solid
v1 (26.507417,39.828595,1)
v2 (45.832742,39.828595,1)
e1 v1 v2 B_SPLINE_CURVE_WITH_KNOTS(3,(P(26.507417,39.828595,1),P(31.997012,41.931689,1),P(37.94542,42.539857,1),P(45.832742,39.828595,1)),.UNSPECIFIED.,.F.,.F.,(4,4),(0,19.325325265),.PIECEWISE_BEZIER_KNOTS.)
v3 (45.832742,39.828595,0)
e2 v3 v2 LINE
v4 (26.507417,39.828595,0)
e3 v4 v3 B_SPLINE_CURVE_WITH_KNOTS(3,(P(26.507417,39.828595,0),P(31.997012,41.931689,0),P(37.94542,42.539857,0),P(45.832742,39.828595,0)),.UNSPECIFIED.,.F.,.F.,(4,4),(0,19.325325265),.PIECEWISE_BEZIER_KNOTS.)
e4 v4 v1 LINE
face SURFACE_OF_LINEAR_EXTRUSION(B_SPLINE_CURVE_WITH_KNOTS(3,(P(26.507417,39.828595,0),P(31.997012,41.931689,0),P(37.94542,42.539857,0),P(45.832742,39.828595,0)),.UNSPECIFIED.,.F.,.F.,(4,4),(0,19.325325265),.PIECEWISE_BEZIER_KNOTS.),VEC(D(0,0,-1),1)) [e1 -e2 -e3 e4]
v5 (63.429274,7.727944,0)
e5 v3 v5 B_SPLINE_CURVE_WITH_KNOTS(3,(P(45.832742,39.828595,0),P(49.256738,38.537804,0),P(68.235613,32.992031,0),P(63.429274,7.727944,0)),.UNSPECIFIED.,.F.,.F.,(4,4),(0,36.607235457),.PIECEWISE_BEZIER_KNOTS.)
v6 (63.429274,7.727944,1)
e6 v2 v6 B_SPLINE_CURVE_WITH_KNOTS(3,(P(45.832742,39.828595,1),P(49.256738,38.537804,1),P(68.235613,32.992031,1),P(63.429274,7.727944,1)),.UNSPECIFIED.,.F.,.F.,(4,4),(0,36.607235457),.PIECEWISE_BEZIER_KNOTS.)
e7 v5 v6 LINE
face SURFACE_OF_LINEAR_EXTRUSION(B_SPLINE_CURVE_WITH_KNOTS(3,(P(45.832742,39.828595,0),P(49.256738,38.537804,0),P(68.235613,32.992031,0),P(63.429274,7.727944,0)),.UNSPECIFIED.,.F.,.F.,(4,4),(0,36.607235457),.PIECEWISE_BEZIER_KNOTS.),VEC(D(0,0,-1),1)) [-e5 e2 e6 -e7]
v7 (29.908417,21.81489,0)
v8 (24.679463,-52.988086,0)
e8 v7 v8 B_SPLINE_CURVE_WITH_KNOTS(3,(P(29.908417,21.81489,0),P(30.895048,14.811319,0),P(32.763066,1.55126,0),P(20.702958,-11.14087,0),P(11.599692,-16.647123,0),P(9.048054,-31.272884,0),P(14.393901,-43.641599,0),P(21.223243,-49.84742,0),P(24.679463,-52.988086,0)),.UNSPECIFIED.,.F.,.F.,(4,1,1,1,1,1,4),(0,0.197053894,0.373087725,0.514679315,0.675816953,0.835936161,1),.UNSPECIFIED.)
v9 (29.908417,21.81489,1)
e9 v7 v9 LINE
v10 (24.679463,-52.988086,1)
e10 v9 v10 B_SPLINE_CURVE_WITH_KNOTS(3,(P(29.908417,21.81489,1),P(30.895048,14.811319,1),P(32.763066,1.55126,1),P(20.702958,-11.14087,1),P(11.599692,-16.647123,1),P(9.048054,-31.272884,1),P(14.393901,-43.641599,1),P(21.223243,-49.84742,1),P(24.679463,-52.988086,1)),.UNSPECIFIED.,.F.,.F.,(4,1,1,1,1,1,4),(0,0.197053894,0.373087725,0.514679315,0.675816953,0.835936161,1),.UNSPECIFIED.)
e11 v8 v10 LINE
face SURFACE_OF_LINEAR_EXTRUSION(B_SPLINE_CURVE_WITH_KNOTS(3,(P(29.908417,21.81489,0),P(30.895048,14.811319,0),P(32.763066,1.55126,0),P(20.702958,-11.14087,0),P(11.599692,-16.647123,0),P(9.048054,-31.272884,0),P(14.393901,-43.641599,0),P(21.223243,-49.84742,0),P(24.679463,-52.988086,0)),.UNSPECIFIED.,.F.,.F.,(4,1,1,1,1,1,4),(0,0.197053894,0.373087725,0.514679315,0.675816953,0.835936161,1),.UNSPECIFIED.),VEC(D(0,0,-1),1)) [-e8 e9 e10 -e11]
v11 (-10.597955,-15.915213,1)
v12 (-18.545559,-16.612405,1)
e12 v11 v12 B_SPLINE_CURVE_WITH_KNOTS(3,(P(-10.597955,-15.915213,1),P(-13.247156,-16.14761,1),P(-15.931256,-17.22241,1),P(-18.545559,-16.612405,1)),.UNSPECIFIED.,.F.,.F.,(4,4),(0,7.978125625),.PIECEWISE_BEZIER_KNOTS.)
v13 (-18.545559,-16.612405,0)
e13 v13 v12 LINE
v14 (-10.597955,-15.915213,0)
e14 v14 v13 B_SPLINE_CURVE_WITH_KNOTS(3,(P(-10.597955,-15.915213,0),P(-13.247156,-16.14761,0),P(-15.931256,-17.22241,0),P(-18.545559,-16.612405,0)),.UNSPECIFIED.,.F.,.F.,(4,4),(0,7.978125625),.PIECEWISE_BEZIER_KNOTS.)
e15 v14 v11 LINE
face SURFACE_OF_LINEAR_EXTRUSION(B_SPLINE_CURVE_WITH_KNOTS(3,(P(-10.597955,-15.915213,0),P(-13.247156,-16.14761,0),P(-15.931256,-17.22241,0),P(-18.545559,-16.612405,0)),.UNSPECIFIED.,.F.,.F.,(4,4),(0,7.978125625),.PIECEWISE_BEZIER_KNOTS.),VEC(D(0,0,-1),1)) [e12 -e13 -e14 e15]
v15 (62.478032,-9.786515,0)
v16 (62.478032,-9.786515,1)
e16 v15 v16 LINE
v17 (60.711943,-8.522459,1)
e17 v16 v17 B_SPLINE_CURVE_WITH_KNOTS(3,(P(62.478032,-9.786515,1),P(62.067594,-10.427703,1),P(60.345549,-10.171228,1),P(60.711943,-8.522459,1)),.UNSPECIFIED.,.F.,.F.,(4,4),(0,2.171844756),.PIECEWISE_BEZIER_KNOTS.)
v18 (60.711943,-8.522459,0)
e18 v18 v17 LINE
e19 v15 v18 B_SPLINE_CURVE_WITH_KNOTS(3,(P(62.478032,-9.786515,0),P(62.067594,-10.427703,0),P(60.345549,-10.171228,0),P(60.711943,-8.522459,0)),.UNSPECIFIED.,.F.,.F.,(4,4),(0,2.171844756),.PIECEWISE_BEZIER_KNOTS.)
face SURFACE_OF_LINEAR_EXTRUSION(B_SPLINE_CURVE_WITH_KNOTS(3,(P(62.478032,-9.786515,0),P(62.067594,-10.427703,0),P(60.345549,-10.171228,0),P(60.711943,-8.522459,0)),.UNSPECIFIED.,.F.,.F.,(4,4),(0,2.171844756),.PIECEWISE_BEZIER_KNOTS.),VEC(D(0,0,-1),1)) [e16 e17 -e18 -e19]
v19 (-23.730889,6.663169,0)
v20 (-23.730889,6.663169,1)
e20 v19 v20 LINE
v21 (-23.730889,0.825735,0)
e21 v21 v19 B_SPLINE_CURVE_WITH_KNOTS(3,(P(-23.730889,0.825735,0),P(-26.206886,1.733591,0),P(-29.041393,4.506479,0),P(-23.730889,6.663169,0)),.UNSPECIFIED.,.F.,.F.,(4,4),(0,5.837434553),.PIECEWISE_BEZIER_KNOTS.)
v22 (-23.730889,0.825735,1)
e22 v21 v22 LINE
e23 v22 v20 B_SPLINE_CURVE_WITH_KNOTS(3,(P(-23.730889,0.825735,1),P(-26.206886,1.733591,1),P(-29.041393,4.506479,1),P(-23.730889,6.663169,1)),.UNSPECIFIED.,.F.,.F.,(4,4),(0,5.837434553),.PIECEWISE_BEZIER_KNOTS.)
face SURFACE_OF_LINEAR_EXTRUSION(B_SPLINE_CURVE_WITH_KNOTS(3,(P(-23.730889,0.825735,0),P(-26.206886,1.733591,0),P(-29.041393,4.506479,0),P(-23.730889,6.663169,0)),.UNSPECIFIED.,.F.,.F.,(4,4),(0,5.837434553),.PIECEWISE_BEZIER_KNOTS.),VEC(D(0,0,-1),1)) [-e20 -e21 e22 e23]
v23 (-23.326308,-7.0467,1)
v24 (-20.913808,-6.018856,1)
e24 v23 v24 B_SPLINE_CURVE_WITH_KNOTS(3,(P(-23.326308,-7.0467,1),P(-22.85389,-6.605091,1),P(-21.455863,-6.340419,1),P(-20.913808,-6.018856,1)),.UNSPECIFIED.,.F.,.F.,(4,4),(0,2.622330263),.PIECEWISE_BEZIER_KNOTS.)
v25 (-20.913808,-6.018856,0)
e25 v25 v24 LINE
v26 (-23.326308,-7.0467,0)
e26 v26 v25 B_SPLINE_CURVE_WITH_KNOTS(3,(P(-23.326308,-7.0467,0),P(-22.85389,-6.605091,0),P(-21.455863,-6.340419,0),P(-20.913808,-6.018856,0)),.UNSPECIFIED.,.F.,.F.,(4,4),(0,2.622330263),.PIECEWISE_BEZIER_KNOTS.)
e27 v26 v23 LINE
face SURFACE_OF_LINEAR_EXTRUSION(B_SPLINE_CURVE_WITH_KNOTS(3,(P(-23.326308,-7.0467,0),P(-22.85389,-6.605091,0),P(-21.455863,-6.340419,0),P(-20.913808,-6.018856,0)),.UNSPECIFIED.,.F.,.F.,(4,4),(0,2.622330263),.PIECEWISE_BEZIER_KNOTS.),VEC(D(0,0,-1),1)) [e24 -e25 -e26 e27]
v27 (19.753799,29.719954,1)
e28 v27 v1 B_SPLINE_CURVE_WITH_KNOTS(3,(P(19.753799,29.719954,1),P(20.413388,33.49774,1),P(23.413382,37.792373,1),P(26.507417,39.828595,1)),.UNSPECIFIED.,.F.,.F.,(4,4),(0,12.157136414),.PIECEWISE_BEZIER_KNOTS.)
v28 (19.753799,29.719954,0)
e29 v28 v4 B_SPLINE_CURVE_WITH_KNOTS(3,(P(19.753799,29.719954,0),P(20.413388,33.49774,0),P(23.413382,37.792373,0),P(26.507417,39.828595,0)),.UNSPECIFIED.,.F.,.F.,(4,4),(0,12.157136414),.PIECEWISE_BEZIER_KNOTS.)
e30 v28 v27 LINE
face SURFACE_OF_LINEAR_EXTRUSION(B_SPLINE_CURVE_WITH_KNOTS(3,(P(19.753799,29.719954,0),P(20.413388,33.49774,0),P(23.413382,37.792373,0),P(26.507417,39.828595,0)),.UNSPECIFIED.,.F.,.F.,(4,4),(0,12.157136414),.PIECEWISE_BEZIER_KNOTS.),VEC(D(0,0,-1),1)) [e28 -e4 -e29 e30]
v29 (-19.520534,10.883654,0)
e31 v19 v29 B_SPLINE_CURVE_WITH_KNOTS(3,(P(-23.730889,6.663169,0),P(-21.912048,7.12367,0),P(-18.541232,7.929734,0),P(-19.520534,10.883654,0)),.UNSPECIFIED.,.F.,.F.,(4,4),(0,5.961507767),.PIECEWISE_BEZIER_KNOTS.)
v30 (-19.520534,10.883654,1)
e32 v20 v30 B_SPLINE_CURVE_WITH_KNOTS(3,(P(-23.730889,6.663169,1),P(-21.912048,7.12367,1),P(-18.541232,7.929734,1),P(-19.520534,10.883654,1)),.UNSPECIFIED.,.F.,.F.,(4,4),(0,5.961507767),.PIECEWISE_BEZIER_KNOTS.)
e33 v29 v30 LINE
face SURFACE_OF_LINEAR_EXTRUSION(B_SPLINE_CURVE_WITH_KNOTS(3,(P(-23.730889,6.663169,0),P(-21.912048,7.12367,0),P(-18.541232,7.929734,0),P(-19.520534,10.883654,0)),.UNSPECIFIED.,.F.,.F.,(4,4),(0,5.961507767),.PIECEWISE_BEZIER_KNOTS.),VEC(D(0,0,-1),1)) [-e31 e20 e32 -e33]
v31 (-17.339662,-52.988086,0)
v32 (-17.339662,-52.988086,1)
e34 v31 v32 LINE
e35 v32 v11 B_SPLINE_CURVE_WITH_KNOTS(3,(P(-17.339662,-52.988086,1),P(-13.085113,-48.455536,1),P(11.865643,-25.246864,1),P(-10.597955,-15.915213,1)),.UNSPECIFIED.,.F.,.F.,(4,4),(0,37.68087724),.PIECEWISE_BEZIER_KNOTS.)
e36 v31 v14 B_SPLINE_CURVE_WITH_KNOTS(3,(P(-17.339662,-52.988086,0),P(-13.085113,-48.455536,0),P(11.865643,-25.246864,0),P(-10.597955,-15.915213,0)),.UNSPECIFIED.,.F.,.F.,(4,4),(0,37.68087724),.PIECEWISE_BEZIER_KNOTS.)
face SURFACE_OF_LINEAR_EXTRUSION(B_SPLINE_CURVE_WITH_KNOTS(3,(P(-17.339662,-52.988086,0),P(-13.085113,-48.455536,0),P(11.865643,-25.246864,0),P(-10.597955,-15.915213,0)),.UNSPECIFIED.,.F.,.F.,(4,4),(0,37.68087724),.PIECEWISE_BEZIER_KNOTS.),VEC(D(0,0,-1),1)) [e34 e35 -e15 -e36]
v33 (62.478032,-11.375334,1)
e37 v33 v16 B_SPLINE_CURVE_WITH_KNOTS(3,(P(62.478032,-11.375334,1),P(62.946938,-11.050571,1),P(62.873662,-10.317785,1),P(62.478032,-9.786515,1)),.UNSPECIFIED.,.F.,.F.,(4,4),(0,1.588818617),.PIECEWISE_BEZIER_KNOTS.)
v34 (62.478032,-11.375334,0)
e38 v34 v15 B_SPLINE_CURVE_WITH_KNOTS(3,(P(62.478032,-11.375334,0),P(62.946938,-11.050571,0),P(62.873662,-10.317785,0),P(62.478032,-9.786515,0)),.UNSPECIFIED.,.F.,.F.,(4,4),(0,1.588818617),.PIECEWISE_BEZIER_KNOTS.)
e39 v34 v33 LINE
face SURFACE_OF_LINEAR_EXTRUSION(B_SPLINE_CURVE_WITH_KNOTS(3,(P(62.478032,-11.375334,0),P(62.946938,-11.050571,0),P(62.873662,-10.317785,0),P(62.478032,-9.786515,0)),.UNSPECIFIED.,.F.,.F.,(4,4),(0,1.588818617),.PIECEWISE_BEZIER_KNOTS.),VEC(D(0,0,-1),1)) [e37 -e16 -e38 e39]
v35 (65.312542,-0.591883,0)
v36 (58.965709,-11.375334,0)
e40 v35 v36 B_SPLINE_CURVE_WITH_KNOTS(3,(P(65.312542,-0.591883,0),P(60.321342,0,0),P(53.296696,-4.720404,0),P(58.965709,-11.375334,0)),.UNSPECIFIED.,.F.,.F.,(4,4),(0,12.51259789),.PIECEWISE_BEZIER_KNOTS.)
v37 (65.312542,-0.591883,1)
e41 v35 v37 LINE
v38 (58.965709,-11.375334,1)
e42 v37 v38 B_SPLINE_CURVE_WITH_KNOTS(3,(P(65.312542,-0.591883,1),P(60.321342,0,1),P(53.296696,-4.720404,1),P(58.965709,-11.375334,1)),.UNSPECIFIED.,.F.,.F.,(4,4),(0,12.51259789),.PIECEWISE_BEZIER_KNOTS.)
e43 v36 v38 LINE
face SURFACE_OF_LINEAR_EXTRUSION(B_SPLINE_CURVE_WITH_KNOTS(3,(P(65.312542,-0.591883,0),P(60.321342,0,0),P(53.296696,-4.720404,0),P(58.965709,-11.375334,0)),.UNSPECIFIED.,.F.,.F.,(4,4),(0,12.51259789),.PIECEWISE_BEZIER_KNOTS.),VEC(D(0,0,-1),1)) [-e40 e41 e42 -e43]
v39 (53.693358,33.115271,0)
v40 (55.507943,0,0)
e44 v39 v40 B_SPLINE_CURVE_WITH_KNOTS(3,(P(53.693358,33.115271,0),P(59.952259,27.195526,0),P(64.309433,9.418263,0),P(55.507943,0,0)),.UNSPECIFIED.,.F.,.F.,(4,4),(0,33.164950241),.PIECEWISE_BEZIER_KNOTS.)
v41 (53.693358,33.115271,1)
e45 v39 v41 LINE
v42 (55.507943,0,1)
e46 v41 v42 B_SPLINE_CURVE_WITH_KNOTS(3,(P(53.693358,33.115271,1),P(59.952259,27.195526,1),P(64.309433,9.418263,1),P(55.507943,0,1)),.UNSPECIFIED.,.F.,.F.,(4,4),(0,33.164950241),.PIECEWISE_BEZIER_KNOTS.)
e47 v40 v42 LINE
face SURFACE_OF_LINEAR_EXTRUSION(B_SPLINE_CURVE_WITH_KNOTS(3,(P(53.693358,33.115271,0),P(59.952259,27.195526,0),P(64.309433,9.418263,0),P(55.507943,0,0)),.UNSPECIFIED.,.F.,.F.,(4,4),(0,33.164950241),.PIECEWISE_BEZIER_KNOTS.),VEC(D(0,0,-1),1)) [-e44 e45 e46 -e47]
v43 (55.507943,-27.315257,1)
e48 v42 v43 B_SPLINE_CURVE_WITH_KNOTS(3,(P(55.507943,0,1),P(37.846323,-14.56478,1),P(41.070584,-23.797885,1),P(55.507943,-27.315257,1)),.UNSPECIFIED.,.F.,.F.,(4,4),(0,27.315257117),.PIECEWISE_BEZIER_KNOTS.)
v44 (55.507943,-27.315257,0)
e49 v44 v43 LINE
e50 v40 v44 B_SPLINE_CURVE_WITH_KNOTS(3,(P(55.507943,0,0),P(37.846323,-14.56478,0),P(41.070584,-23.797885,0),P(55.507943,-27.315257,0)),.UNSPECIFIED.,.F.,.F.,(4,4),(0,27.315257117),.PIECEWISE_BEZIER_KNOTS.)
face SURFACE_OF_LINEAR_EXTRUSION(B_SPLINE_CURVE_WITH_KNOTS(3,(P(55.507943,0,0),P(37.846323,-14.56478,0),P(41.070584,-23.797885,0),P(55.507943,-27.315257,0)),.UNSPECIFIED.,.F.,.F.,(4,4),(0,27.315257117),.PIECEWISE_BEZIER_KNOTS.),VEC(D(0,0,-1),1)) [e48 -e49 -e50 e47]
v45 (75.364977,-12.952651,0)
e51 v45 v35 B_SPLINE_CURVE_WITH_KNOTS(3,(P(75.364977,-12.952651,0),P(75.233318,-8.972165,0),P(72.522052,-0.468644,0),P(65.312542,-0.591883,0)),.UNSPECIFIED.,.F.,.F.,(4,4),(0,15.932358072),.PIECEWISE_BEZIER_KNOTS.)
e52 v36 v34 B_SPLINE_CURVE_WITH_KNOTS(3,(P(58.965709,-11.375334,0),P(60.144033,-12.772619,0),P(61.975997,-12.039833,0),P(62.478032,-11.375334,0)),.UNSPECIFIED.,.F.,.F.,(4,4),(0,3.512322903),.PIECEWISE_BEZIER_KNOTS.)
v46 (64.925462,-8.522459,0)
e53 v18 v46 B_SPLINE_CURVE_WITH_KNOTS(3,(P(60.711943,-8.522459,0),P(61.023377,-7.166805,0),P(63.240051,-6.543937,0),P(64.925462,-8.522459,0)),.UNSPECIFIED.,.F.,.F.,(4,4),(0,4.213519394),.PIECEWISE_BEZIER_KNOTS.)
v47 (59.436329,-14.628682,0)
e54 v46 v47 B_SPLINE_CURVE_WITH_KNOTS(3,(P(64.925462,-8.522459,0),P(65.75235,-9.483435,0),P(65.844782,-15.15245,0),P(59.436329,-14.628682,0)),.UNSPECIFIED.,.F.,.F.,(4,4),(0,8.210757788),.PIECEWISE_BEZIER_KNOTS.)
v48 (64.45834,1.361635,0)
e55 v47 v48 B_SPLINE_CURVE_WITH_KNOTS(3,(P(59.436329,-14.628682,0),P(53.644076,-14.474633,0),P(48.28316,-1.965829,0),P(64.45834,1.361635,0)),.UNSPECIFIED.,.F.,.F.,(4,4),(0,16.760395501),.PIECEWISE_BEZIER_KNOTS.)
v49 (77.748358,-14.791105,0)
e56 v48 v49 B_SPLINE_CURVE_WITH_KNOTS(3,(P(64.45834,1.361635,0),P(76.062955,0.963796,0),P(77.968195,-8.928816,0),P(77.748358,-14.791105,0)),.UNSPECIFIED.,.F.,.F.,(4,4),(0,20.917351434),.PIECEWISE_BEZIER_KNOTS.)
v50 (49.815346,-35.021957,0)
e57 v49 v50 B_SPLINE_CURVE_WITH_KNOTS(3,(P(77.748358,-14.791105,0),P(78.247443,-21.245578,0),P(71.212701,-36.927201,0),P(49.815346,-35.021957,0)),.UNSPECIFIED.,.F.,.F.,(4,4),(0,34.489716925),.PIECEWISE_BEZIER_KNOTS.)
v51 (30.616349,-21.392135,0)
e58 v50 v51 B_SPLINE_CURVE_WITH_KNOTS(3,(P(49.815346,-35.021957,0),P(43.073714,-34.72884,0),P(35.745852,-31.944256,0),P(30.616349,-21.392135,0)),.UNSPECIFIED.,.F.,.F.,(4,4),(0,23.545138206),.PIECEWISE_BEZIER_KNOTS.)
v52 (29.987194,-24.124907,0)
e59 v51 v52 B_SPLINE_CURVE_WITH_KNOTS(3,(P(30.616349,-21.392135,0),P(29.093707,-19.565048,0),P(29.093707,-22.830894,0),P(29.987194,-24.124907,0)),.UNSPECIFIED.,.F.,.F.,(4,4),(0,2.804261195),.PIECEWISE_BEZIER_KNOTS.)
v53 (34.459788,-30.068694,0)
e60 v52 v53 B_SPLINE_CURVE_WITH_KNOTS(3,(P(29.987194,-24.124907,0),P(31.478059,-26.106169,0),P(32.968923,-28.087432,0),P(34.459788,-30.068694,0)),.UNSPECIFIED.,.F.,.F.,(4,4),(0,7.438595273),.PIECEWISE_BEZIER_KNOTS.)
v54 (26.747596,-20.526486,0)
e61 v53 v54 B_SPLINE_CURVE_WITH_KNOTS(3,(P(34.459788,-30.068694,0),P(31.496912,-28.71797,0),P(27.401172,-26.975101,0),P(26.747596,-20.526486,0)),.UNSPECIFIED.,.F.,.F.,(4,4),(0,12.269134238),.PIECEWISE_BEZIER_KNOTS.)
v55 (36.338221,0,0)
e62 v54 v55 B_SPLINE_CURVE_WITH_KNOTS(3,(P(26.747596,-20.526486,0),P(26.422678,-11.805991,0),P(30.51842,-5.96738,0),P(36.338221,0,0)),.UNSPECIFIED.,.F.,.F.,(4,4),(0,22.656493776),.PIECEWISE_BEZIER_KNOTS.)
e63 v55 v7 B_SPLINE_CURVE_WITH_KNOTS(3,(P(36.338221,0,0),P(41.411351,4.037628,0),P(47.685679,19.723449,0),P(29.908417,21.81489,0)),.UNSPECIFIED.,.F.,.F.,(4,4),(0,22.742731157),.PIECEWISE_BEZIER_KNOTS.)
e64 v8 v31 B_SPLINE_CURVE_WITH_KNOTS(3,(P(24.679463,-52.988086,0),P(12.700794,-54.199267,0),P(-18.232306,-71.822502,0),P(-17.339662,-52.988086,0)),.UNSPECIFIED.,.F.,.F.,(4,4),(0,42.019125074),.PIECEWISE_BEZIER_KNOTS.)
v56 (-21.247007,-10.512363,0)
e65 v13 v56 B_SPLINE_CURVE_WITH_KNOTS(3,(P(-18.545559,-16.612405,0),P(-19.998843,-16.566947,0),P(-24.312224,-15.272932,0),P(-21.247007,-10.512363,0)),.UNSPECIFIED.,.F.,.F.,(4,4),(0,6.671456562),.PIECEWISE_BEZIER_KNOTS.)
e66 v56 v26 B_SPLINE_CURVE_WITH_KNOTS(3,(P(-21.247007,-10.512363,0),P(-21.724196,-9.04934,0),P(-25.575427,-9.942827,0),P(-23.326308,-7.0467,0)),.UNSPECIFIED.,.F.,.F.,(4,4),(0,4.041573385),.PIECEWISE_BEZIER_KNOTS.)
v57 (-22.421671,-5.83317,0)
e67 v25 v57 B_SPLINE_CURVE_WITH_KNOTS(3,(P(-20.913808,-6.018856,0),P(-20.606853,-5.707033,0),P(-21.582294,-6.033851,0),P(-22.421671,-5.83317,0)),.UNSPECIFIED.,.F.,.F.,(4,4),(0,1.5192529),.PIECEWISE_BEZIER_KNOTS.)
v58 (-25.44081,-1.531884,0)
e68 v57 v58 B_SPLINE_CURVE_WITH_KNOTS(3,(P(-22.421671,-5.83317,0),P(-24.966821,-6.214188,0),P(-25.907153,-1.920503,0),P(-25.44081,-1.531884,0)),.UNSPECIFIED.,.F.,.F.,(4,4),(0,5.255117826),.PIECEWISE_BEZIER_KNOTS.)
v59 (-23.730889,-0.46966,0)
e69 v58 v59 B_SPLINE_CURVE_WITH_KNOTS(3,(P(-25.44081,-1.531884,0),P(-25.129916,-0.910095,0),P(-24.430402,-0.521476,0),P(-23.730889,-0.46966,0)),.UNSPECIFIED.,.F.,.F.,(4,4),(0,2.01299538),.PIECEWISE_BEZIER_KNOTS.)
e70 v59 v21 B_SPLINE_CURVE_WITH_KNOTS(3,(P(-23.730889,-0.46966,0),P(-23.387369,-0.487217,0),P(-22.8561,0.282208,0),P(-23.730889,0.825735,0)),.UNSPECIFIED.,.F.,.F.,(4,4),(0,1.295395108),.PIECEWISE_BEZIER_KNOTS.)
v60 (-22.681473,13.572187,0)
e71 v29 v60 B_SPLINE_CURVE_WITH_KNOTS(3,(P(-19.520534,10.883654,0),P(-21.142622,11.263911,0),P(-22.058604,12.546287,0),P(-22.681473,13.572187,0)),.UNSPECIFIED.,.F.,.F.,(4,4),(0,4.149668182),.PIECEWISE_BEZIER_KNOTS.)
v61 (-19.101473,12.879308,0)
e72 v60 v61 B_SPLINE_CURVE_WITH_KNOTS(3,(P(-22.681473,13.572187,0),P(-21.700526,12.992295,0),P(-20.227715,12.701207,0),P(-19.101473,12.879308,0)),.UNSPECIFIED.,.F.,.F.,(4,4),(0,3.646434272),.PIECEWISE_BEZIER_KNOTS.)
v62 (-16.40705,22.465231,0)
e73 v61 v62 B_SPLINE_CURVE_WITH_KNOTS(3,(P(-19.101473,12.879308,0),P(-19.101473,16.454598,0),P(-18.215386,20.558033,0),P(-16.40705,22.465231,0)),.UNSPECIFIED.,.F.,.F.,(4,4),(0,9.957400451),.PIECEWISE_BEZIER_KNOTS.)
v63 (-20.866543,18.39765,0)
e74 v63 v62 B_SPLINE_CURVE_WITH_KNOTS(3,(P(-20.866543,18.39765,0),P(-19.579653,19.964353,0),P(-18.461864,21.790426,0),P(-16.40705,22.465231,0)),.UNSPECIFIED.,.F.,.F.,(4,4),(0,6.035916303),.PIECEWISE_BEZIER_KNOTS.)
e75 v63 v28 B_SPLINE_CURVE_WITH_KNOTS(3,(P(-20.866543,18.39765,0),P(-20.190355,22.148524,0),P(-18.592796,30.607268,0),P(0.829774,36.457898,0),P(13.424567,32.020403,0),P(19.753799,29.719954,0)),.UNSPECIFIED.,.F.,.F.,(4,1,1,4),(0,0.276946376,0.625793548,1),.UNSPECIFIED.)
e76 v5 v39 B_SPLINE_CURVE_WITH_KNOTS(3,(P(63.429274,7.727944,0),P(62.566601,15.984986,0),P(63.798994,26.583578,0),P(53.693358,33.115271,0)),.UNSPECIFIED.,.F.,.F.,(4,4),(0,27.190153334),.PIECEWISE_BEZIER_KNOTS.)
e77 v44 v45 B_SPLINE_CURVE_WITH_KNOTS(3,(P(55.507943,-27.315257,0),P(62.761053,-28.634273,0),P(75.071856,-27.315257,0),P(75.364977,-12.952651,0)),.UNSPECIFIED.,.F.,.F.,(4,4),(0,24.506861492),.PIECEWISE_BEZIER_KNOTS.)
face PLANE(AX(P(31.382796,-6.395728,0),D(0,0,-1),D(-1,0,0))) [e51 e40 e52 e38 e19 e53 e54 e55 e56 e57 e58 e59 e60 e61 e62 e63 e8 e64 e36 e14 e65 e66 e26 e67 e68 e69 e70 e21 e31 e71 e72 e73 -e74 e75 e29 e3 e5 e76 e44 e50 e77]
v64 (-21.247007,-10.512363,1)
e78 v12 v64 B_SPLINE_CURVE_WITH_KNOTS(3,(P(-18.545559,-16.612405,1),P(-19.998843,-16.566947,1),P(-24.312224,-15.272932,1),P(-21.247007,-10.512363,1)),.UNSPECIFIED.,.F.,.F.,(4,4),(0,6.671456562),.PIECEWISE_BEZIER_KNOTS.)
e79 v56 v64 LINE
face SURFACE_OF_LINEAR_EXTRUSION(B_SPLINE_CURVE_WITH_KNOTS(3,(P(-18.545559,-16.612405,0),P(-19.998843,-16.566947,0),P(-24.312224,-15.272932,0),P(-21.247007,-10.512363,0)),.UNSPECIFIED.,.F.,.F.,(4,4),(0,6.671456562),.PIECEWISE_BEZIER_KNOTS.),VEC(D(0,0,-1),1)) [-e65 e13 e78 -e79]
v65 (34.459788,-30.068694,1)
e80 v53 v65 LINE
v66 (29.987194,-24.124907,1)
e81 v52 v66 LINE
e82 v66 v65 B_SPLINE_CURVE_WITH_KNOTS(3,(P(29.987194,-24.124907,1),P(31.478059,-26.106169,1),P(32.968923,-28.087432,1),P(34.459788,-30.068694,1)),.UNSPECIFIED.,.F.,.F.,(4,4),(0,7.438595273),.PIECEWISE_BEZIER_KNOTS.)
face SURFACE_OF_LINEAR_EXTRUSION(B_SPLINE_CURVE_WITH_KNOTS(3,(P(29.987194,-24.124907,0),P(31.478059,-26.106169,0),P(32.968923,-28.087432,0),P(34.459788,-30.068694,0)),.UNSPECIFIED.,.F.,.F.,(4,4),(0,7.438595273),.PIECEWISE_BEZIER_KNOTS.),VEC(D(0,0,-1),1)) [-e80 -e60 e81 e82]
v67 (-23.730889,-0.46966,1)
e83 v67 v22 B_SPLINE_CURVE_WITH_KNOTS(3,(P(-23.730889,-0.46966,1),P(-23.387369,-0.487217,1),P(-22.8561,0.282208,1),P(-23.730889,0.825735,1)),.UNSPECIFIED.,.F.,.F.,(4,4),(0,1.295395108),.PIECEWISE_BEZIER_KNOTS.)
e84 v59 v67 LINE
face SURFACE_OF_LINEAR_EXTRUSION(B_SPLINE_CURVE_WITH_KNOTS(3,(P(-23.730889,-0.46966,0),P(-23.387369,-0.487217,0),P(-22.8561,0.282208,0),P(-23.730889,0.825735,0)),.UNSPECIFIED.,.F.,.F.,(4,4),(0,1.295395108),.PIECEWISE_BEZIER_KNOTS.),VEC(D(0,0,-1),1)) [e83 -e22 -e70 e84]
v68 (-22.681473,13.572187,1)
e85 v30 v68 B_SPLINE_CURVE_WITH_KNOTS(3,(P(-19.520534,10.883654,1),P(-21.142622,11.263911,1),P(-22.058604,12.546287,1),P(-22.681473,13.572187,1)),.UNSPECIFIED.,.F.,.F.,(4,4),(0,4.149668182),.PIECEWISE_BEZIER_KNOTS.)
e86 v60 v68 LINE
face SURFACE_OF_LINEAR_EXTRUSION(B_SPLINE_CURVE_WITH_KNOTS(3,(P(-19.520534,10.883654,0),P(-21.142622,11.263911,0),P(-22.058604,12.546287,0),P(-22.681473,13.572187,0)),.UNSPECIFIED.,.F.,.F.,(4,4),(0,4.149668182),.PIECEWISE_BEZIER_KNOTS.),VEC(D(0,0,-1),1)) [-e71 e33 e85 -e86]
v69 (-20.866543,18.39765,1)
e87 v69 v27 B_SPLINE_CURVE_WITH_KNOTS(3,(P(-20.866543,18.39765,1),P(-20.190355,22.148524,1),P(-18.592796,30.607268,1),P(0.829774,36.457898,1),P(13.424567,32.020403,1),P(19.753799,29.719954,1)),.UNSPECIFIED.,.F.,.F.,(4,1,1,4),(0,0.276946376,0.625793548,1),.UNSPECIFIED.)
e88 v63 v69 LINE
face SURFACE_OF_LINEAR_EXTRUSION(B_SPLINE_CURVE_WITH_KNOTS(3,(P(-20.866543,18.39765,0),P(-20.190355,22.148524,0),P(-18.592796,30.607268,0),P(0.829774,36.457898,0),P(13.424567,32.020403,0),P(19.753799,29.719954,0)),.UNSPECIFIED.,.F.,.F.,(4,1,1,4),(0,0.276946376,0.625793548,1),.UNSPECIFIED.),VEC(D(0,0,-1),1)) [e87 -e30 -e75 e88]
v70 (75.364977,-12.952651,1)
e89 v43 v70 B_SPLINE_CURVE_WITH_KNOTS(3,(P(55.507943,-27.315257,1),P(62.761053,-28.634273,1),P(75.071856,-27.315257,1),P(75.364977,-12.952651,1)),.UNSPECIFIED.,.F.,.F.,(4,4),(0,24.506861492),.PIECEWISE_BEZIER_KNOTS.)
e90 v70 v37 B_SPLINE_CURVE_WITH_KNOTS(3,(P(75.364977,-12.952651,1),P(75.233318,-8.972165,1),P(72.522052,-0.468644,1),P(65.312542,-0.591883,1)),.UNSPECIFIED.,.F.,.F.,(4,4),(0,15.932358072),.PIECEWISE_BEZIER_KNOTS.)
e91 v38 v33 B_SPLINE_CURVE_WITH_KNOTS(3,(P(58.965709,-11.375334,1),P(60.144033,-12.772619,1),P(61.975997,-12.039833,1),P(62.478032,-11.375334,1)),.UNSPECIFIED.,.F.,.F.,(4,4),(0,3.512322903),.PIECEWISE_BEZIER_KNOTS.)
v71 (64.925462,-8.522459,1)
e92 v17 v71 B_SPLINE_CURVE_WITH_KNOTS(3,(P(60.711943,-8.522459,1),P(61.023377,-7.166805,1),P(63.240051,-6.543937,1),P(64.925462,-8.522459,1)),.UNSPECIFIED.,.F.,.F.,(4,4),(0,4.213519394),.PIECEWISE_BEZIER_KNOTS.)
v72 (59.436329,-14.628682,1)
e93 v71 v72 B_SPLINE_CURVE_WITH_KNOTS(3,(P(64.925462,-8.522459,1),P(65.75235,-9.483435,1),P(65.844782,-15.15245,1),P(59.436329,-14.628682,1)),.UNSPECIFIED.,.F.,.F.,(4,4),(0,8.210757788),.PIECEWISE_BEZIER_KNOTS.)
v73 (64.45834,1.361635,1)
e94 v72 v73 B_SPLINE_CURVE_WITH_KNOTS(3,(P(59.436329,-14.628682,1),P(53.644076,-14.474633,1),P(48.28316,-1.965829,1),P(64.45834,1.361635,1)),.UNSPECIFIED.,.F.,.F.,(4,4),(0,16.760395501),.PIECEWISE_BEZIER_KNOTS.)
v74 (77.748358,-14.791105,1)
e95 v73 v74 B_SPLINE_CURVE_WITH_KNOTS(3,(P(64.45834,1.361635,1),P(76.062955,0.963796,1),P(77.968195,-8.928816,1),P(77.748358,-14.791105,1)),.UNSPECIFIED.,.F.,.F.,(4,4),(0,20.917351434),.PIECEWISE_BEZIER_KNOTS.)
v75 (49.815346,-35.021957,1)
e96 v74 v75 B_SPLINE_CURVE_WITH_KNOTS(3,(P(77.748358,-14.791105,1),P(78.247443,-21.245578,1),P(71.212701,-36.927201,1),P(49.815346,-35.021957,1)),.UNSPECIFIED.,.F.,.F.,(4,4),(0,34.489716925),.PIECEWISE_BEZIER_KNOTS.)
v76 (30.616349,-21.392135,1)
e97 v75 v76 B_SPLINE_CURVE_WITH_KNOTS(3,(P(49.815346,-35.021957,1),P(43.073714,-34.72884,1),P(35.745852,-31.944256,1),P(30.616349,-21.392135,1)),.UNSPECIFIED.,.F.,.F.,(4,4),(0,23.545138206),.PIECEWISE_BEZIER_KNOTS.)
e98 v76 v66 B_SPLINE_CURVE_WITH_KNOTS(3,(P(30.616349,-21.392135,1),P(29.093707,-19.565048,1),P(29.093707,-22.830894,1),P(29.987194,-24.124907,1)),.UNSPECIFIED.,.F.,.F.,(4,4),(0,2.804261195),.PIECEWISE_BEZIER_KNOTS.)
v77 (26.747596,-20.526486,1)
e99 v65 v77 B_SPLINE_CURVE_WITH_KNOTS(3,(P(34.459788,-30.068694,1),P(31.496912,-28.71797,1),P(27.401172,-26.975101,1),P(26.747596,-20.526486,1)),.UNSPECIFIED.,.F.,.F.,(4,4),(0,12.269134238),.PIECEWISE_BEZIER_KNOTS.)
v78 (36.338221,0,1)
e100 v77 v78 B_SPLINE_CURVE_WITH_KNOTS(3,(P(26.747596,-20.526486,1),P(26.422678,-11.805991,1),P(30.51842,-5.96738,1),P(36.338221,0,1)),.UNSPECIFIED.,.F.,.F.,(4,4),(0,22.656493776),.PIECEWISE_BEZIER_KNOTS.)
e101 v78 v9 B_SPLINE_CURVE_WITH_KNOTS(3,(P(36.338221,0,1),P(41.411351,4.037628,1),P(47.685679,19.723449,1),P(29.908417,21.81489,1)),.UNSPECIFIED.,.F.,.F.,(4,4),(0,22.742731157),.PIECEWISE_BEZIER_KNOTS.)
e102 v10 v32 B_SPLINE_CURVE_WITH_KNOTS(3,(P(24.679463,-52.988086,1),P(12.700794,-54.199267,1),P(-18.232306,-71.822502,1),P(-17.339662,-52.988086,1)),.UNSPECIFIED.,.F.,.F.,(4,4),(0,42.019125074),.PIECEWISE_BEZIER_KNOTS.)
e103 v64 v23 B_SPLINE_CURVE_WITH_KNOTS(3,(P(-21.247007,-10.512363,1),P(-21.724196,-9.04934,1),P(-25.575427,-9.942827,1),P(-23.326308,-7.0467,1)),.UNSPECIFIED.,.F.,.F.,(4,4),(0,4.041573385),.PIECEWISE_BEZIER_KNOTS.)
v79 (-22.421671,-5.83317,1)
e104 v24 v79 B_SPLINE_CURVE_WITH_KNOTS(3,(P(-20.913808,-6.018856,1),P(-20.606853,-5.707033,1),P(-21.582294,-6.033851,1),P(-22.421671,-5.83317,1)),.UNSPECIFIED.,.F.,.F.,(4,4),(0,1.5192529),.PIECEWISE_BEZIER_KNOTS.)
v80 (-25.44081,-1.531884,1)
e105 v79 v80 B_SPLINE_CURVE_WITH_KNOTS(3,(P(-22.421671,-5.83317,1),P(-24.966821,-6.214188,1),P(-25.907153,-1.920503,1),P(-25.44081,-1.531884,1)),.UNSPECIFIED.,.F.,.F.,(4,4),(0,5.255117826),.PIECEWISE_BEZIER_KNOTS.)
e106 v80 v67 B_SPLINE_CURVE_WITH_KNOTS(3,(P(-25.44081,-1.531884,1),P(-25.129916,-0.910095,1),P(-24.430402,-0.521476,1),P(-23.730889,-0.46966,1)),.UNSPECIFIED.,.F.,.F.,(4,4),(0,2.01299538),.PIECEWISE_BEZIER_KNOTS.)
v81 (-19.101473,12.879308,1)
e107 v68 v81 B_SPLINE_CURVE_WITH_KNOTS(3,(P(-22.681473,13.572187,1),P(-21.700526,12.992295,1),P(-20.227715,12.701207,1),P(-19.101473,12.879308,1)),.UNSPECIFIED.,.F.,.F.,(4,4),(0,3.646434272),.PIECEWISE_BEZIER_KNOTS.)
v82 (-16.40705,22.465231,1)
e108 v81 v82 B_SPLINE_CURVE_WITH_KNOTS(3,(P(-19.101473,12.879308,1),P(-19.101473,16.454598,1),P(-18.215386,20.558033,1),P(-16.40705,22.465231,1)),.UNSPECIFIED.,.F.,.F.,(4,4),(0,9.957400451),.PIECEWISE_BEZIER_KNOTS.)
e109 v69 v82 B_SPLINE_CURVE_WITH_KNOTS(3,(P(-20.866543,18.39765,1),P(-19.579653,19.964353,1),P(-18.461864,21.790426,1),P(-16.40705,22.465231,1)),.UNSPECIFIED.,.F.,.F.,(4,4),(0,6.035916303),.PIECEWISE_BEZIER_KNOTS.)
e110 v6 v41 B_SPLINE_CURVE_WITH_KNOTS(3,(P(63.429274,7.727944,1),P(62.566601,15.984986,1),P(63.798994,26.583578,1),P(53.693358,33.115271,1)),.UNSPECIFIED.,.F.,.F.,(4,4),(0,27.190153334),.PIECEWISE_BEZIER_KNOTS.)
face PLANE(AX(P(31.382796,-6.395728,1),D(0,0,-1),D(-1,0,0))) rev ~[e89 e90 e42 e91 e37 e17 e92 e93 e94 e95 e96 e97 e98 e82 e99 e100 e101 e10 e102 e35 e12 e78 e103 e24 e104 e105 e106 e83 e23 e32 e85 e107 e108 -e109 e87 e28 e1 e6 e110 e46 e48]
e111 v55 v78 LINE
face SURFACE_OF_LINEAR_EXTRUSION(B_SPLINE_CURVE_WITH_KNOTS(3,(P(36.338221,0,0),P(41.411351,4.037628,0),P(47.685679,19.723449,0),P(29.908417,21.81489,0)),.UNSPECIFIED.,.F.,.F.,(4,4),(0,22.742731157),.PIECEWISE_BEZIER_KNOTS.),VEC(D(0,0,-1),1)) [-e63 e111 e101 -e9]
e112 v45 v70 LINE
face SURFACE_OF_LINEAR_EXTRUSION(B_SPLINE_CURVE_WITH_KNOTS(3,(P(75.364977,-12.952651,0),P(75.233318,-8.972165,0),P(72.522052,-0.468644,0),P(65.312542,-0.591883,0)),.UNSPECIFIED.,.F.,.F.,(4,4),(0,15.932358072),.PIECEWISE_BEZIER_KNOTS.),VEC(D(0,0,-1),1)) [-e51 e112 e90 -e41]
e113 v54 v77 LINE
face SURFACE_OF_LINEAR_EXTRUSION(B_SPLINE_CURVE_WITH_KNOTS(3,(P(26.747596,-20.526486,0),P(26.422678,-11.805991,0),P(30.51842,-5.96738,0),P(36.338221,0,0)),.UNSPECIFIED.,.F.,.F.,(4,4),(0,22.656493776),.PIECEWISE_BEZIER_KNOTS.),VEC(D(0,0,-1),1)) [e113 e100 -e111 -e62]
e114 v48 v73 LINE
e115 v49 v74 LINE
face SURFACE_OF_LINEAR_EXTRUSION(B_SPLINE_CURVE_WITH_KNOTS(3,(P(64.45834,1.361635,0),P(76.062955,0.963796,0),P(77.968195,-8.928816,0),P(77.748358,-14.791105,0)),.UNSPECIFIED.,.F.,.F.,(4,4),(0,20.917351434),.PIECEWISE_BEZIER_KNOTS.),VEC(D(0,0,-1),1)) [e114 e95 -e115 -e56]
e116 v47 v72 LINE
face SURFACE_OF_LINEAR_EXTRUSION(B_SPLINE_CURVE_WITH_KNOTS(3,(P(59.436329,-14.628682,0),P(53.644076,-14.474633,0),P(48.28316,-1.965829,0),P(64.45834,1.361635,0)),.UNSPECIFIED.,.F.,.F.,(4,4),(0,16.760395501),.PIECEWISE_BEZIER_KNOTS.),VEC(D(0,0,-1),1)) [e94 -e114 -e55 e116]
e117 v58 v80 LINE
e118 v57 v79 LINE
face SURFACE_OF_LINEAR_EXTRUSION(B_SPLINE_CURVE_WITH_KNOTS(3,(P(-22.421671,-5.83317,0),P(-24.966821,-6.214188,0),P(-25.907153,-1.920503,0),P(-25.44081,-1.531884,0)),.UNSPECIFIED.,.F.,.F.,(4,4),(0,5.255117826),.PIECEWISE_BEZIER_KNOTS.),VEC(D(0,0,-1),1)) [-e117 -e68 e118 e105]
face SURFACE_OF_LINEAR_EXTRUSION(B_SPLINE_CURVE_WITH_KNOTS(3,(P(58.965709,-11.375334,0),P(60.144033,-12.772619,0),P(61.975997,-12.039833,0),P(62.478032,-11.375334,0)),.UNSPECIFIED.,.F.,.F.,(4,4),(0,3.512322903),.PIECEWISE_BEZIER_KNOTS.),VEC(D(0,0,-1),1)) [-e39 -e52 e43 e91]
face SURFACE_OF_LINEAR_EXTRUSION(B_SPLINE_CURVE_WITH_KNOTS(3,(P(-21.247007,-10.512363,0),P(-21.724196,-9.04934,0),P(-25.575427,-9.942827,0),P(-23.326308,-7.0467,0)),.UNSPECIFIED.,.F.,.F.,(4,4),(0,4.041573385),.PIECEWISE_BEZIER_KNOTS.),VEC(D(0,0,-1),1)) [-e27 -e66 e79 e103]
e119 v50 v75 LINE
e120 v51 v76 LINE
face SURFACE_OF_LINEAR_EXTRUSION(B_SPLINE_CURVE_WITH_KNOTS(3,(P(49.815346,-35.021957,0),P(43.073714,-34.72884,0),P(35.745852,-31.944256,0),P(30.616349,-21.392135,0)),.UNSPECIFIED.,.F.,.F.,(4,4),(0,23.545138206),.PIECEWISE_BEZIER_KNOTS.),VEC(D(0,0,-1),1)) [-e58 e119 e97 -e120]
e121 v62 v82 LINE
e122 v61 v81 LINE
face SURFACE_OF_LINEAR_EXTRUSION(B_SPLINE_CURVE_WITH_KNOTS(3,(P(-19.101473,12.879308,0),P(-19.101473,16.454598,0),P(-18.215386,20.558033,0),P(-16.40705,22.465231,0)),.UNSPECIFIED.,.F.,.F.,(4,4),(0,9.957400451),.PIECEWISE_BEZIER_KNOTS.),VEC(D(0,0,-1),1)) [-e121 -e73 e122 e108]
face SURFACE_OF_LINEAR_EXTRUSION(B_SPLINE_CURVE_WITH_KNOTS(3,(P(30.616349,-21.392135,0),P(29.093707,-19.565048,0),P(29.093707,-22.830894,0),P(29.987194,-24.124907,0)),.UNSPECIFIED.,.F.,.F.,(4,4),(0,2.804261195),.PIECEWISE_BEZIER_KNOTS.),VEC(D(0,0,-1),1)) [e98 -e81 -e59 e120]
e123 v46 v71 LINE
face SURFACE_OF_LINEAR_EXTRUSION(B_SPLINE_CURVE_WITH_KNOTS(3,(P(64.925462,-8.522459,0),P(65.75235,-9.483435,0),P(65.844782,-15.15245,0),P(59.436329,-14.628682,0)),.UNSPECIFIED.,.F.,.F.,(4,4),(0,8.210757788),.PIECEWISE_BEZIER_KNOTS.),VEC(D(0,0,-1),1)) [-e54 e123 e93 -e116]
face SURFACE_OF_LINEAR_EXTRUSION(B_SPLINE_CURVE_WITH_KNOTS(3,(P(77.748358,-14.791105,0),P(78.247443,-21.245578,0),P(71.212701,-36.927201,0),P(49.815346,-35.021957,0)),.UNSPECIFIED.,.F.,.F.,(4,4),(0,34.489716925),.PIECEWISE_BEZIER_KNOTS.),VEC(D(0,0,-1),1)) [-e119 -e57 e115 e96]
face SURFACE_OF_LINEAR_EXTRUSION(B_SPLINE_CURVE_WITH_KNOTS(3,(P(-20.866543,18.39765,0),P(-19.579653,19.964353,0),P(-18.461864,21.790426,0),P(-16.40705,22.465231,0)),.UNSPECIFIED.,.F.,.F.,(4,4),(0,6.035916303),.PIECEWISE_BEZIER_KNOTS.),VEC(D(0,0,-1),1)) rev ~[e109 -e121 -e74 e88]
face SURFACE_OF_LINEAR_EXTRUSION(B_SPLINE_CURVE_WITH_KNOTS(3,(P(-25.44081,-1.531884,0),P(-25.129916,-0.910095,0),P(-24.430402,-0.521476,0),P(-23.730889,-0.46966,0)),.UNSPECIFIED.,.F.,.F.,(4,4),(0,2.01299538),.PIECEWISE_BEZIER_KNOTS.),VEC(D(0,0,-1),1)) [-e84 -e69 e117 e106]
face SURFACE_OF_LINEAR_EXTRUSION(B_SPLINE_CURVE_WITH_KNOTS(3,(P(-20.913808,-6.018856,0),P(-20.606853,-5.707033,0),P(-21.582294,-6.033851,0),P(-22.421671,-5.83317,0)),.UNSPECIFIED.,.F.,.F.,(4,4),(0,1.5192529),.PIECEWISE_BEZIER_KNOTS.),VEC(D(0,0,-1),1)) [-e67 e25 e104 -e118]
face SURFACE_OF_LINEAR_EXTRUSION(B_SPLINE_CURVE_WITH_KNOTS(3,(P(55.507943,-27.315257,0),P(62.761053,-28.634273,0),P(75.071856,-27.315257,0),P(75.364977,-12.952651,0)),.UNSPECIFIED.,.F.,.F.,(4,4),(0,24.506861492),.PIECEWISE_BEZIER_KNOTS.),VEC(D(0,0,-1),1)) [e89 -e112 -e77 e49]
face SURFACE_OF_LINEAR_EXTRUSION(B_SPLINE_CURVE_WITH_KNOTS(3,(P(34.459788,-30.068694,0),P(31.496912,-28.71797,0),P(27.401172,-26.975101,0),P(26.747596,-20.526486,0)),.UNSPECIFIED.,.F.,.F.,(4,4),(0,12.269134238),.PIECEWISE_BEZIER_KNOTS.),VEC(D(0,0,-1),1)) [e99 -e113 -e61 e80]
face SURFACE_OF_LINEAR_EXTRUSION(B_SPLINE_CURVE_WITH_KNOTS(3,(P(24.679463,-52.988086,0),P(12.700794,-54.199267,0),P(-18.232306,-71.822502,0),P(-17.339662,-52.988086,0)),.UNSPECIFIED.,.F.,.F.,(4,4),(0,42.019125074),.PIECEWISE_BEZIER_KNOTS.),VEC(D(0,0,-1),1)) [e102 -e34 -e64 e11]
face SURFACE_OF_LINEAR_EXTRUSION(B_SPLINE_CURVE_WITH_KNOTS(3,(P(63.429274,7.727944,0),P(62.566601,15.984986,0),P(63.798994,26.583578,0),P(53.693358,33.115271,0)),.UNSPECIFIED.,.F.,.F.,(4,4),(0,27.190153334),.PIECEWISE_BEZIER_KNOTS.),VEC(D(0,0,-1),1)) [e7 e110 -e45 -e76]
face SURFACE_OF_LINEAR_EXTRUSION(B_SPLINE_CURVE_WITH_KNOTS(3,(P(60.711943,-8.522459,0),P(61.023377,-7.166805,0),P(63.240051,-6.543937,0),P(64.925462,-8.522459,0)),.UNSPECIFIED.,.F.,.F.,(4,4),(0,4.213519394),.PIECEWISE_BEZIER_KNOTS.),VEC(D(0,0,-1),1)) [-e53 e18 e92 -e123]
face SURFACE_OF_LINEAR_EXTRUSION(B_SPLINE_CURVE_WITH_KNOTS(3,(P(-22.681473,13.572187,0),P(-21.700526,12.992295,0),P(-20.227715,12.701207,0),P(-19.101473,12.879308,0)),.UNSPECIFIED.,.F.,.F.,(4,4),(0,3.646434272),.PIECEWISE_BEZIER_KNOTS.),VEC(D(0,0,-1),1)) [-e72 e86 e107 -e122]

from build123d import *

# Parameters (mm, degrees)
F1_DEPTH = 1


with BuildPart() as f1:
    # F0 (on Top) → F1 (new body)
    with BuildSketch(Plane.XY):
        with BuildLine():
            add(Edge.make_bspline(
                [(-20.8665426716, 18.397650235), (-20.1903553635, 22.148523992), (-18.5927961308, 30.6072682277), (0.8297736088, 36.4578977579), (13.424566628, 32.0204028302), (19.7537988424, 29.7199543566)],
                knots=[0, 0, 0, 0, 0.276946376, 0.6257935478, 1, 1, 1, 1], degree=3))
            add(Edge.make_bspline(
                [(-20.8665426716, 18.397650235), (-19.5796533177, 19.9643534919), (-18.4618644416, 21.7904262245), (-16.4070501924, 22.4652308971)],
                knots=[0, 0, 0, 0, 6.0359163029, 6.0359163029, 6.0359163029, 6.0359163029], degree=3))
            add(Edge.make_bspline(
                [(-19.1014725715, 12.8793083131), (-19.1014725715, 16.4545979351), (-18.215386197, 20.5580331385), (-16.4070501924, 22.4652308971)],
                knots=[0, 0, 0, 0, 9.957400451, 9.957400451, 9.957400451, 9.957400451], degree=3))
            add(Edge.make_bspline(
                [(-22.681472823, 13.5721871629), (-21.7005256563, 12.9922945052), (-20.227715373, 12.7012068406), (-19.1014725715, 12.8793083131)],
                knots=[0, 0, 0, 0, 3.6464342722, 3.6464342722, 3.6464342722, 3.6464342722], degree=3))
            add(Edge.make_bspline(
                [(-19.5205342025, 10.8836535364), (-21.142622456, 11.263910681), (-22.0586042851, 12.5462869182), (-22.681472823, 13.5721871629)],
                knots=[0, 0, 0, 0, 4.1496681824, 4.1496681824, 4.1496681824, 4.1496681824], degree=3))
            add(Edge.make_bspline(
                [(-23.7308889627, 6.6631692462), (-21.9120476395, 7.1236696094), (-18.5412317514, 7.9297339544), (-19.5205342025, 10.8836535364)],
                knots=[0, 0, 0, 0, 5.9615077667, 5.9615077667, 5.9615077667, 5.9615077667], degree=3))
            add(Edge.make_bspline(
                [(-23.7308889627, 0.8257346926), (-26.2068863958, 1.7335914308), (-29.0413927287, 4.5064790174), (-23.7308889627, 6.6631692462)],
                knots=[0, 0, 0, 0, 5.8374345535, 5.8374345535, 5.8374345535, 5.8374345535], degree=3))
            add(Edge.make_bspline(
                [(-23.7308889627, -0.4696604155), (-23.3873687685, -0.4872174759), (-22.8560995311, 0.2822079114), (-23.7308889627, 0.8257346926)],
                knots=[0, 0, 0, 0, 1.2953951082, 1.2953951082, 1.2953951082, 1.2953951082], degree=3))
            add(Edge.make_bspline(
                [(-25.4408102483, -1.531884307), (-25.1299161464, -0.9100947645), (-24.4304016232, -0.5214762059), (-23.7308889627, -0.4696604155)],
                knots=[0, 0, 0, 0, 2.0129953796, 2.0129953796, 2.0129953796, 2.0129953796], degree=3))
            add(Edge.make_bspline(
                [(-22.4216707264, -5.833170151), (-24.9668207233, -6.2141881861), (-25.9071532637, -1.9205028657), (-25.4408102483, -1.531884307)],
                knots=[0, 0, 0, 0, 5.2551178259, 5.2551178259, 5.2551178259, 5.2551178259], degree=3))
            add(Edge.make_bspline(
                [(-20.9138079784, -6.0188561941), (-20.6068530679, -5.7070334442), (-21.582293878, -6.0338505094), (-22.4216707264, -5.833170151)],
                knots=[0, 0, 0, 0, 1.5192528998, 1.5192528998, 1.5192528998, 1.5192528998], degree=3))
            add(Edge.make_bspline(
                [(-23.3263075352, -7.0466995183), (-22.853889813, -6.6050914991), (-21.4558626197, -6.3404192432), (-20.9138079784, -6.0188561941)],
                knots=[0, 0, 0, 0, 2.6223302634, 2.6223302634, 2.6223302634, 2.6223302634], degree=3))
            add(Edge.make_bspline(
                [(-21.2470069528, -10.5123631656), (-21.7241961509, -9.0493401513), (-25.5754273385, -9.9428268093), (-23.3263075352, -7.0466995183)],
                knots=[0, 0, 0, 0, 4.0415733852, 4.0415733852, 4.0415733852, 4.0415733852], degree=3))
            add(Edge.make_bspline(
                [(-18.5455586761, -16.6124049574), (-19.9988428503, -16.5669471025), (-24.3122242391, -15.2729321271), (-21.2470069528, -10.5123631656)],
                knots=[0, 0, 0, 0, 6.6714565616, 6.6714565616, 6.6714565616, 6.6714565616], degree=3))
            add(Edge.make_bspline(
                [(-10.5979545042, -15.9152131528), (-13.2471558948, -16.147610421), (-15.9312561154, -17.2224100679), (-18.5455586761, -16.6124049574)],
                knots=[0, 0, 0, 0, 7.9781256249, 7.9781256249, 7.9781256249, 7.9781256249], degree=3))
            add(Edge.make_bspline(
                [(-17.3396617174, -52.9880858958), (-13.085112907, -48.4555363655), (11.8656428531, -25.2468641847), (-10.5979545042, -15.9152131528)],
                knots=[0, 0, 0, 0, 37.6808772399, 37.6808772399, 37.6808772399, 37.6808772399], degree=3))
            add(Edge.make_bspline(
                [(24.6794633567, -52.9880858958), (12.7007942647, -54.1992671788), (-18.2323064655, -71.822501719), (-17.3396617174, -52.9880858958)],
                knots=[0, 0, 0, 0, 42.0191250741, 42.0191250741, 42.0191250741, 42.0191250741], degree=3))
            add(Edge.make_bspline(
                [(29.9084167928, 21.8148902059), (30.8950484785, 14.8113194584), (32.7630662271, 1.551260361), (20.7029575849, -11.1408703973), (11.5996920553, -16.6471227563), (9.0480540501, -31.2728844387), (14.3939009926, -43.6415991523), (21.2232429507, -49.8474196819), (24.6794633567, -52.9880858958)],
                knots=[0, 0, 0, 0, 0.1970538936, 0.3730877246, 0.5146793148, 0.6758169533, 0.8359361607, 1, 1, 1, 1], degree=3))
            add(Edge.make_bspline(
                [(36.3382212818, 0), (41.4113514125, 4.037628416), (47.6856790483, 19.7234489024), (29.9084167928, 21.8148902059)],
                knots=[0, 0, 0, 0, 22.7427311566, 22.7427311566, 22.7427311566, 22.7427311566], degree=3))
            add(Edge.make_bspline(
                [(26.7475955188, -20.5264855176), (26.4226775616, -11.8059907109), (30.5184200406, -5.9673800133), (36.3382212818, 0)],
                knots=[0, 0, 0, 0, 22.6564937762, 22.6564937762, 22.6564937762, 22.6564937762], degree=3))
            add(Edge.make_bspline(
                [(34.4597883523, -30.0686936826), (31.496912241, -28.7179704756), (27.4011716247, -26.97510086), (26.7475955188, -20.5264855176)],
                knots=[0, 0, 0, 0, 12.2691342385, 12.2691342385, 12.2691342385, 12.2691342385], degree=3))
            add(Edge.make_bspline(
                [(29.987193644, -24.1249073297), (31.4780585468, -26.1061694473), (32.9689234495, -28.0874315649), (34.4597883523, -30.0686936826)],
                knots=[0, 0, 0, 0, 7.4385952728, 7.4385952728, 7.4385952728, 7.4385952728], degree=3))
            add(Edge.make_bspline(
                [(30.6163486093, -21.3921349496), (29.0937069803, -19.5650476962), (29.0937069803, -22.8308942169), (29.987193644, -24.1249073297)],
                knots=[0, 0, 0, 0, 2.8042611954, 2.8042611954, 2.8042611954, 2.8042611954], degree=3))
            add(Edge.make_bspline(
                [(49.8153455555, -35.02195701), (43.0737137794, -34.7288399935), (35.7458516955, -31.9442562759), (30.6163486093, -21.3921349496)],
                knots=[0, 0, 0, 0, 23.545138206, 23.545138206, 23.545138206, 23.545138206], degree=3))
            add(Edge.make_bspline(
                [(77.7483582497, -14.7911049426), (78.2474428415, -21.2455783039), (71.2127014995, -36.9272008538), (49.8153455555, -35.02195701)],
                knots=[0, 0, 0, 0, 34.4897169247, 34.4897169247, 34.4897169247, 34.4897169247], degree=3))
            add(Edge.make_bspline(
                [(64.4583404064, 1.3616352808), (76.0629549623, 0.9637963958), (77.9681950808, -8.9288158342), (77.7483582497, -14.7911049426)],
                knots=[0, 0, 0, 0, 20.9173514336, 20.9173514336, 20.9173514336, 20.9173514336], degree=3))
            add(Edge.make_bspline(
                [(59.4363287091, -14.6286822855), (53.6440759897, -14.4746331498), (48.2831597328, -1.9658291712), (64.4583404064, 1.3616352808)],
                knots=[0, 0, 0, 0, 16.7603955013, 16.7603955013, 16.7603955013, 16.7603955013], degree=3))
            add(Edge.make_bspline(
                [(64.9254620075, -8.5224593058), (65.7523497939, -9.4834351912), (65.8447816968, -15.1524497196), (59.4363287091, -14.6286822855)],
                knots=[0, 0, 0, 0, 8.2107577875, 8.2107577875, 8.2107577875, 8.2107577875], degree=3))
            add(Edge.make_bspline(
                [(60.7119426131, -8.5224593058), (61.0233768821, -7.1668047458), (63.2400512695, -6.5439366736), (64.9254620075, -8.5224593058)],
                knots=[0, 0, 0, 0, 4.2135193944, 4.2135193944, 4.2135193944, 4.2135193944], degree=3))
            add(Edge.make_bspline(
                [(62.4780319631, -9.7865154967), (62.0675943792, -10.4277031496), (60.3455491364, -10.1712280884), (60.7119426131, -8.5224593058)],
                knots=[0, 0, 0, 0, 2.1718447564, 2.1718447564, 2.1718447564, 2.1718447564], degree=3))
            add(Edge.make_bspline(
                [(62.4780319631, -11.3753341138), (62.9469379783, -11.0505707562), (62.8736615181, -10.3177847341), (62.4780319631, -9.7865154967)],
                knots=[0, 0, 0, 0, 1.5888186172, 1.5888186172, 1.5888186172, 1.5888186172], degree=3))
            add(Edge.make_bspline(
                [(58.9657090604, -11.3753341138), (60.144033283, -12.772618793), (61.9759969413, -12.0398327708), (62.4780319631, -11.3753341138)],
                knots=[0, 0, 0, 0, 3.5123229027, 3.5123229027, 3.5123229027, 3.5123229027], degree=3))
            add(Edge.make_bspline(
                [(65.3125420213, -0.5918830284), (60.3213422, 0), (53.2966963947, -4.7204042785), (58.9657090604, -11.3753341138)],
                knots=[0, 0, 0, 0, 12.5125978895, 12.5125978895, 12.5125978895, 12.5125978895], degree=3))
            add(Edge.make_bspline(
                [(75.3649771214, -12.9526508972), (75.2333179116, -8.9721651748), (72.5220516324, -0.4686435277), (65.3125420213, -0.5918830284)],
                knots=[0, 0, 0, 0, 15.9323580724, 15.9323580724, 15.9323580724, 15.9323580724], degree=3))
            add(Edge.make_bspline(
                [(55.5079430342, -27.3152571172), (62.761053443, -28.6342725158), (75.0718563795, -27.3152571172), (75.3649771214, -12.9526508972)],
                knots=[0, 0, 0, 0, 24.5068614916, 24.5068614916, 24.5068614916, 24.5068614916], degree=3))
            add(Edge.make_bspline(
                [(55.5079430342, 0), (37.8463231027, -14.5647795871), (41.0705842078, -23.7978845835), (55.5079430342, -27.3152571172)],
                knots=[0, 0, 0, 0, 27.3152571172, 27.3152571172, 27.3152571172, 27.3152571172], degree=3))
            add(Edge.make_bspline(
                [(53.6933578551, 33.1152714789), (59.9522590637, 27.195526287), (64.3094331026, 9.4182631001), (55.5079430342, 0)],
                knots=[0, 0, 0, 0, 33.1649502411, 33.1649502411, 33.1649502411, 33.1649502411], degree=3))
            add(Edge.make_bspline(
                [(63.429273665, 7.7279442921), (62.56660074, 15.9849859774), (63.7989938259, 26.5835784376), (53.6933578551, 33.1152714789)],
                knots=[0, 0, 0, 0, 27.1901533343, 27.1901533343, 27.1901533343, 27.1901533343], degree=3))
            add(Edge.make_bspline(
                [(45.8327420056, 39.828594774), (49.2567382753, 38.5378040373), (68.2356134057, 32.9920314252), (63.429273665, 7.7279442921)],
                knots=[0, 0, 0, 0, 36.6072354569, 36.6072354569, 36.6072354569, 36.6072354569], degree=3))
            add(Edge.make_bspline(
                [(26.5074167401, 39.828594774), (31.9970119745, 41.9316887856), (37.9454195499, 42.5398573279), (45.8327420056, 39.828594774)],
                knots=[0, 0, 0, 0, 19.3253252655, 19.3253252655, 19.3253252655, 19.3253252655], degree=3))
            add(Edge.make_bspline(
                [(19.7537988424, 29.7199543566), (20.4133884295, 33.497739788), (23.4133824706, 37.7923734486), (26.5074167401, 39.828594774)],
                knots=[0, 0, 0, 0, 12.1571364143, 12.1571364143, 12.1571364143, 12.1571364143], degree=3))
        make_face()
    extrude(amount=F1_DEPTH)


solid = f1.part
